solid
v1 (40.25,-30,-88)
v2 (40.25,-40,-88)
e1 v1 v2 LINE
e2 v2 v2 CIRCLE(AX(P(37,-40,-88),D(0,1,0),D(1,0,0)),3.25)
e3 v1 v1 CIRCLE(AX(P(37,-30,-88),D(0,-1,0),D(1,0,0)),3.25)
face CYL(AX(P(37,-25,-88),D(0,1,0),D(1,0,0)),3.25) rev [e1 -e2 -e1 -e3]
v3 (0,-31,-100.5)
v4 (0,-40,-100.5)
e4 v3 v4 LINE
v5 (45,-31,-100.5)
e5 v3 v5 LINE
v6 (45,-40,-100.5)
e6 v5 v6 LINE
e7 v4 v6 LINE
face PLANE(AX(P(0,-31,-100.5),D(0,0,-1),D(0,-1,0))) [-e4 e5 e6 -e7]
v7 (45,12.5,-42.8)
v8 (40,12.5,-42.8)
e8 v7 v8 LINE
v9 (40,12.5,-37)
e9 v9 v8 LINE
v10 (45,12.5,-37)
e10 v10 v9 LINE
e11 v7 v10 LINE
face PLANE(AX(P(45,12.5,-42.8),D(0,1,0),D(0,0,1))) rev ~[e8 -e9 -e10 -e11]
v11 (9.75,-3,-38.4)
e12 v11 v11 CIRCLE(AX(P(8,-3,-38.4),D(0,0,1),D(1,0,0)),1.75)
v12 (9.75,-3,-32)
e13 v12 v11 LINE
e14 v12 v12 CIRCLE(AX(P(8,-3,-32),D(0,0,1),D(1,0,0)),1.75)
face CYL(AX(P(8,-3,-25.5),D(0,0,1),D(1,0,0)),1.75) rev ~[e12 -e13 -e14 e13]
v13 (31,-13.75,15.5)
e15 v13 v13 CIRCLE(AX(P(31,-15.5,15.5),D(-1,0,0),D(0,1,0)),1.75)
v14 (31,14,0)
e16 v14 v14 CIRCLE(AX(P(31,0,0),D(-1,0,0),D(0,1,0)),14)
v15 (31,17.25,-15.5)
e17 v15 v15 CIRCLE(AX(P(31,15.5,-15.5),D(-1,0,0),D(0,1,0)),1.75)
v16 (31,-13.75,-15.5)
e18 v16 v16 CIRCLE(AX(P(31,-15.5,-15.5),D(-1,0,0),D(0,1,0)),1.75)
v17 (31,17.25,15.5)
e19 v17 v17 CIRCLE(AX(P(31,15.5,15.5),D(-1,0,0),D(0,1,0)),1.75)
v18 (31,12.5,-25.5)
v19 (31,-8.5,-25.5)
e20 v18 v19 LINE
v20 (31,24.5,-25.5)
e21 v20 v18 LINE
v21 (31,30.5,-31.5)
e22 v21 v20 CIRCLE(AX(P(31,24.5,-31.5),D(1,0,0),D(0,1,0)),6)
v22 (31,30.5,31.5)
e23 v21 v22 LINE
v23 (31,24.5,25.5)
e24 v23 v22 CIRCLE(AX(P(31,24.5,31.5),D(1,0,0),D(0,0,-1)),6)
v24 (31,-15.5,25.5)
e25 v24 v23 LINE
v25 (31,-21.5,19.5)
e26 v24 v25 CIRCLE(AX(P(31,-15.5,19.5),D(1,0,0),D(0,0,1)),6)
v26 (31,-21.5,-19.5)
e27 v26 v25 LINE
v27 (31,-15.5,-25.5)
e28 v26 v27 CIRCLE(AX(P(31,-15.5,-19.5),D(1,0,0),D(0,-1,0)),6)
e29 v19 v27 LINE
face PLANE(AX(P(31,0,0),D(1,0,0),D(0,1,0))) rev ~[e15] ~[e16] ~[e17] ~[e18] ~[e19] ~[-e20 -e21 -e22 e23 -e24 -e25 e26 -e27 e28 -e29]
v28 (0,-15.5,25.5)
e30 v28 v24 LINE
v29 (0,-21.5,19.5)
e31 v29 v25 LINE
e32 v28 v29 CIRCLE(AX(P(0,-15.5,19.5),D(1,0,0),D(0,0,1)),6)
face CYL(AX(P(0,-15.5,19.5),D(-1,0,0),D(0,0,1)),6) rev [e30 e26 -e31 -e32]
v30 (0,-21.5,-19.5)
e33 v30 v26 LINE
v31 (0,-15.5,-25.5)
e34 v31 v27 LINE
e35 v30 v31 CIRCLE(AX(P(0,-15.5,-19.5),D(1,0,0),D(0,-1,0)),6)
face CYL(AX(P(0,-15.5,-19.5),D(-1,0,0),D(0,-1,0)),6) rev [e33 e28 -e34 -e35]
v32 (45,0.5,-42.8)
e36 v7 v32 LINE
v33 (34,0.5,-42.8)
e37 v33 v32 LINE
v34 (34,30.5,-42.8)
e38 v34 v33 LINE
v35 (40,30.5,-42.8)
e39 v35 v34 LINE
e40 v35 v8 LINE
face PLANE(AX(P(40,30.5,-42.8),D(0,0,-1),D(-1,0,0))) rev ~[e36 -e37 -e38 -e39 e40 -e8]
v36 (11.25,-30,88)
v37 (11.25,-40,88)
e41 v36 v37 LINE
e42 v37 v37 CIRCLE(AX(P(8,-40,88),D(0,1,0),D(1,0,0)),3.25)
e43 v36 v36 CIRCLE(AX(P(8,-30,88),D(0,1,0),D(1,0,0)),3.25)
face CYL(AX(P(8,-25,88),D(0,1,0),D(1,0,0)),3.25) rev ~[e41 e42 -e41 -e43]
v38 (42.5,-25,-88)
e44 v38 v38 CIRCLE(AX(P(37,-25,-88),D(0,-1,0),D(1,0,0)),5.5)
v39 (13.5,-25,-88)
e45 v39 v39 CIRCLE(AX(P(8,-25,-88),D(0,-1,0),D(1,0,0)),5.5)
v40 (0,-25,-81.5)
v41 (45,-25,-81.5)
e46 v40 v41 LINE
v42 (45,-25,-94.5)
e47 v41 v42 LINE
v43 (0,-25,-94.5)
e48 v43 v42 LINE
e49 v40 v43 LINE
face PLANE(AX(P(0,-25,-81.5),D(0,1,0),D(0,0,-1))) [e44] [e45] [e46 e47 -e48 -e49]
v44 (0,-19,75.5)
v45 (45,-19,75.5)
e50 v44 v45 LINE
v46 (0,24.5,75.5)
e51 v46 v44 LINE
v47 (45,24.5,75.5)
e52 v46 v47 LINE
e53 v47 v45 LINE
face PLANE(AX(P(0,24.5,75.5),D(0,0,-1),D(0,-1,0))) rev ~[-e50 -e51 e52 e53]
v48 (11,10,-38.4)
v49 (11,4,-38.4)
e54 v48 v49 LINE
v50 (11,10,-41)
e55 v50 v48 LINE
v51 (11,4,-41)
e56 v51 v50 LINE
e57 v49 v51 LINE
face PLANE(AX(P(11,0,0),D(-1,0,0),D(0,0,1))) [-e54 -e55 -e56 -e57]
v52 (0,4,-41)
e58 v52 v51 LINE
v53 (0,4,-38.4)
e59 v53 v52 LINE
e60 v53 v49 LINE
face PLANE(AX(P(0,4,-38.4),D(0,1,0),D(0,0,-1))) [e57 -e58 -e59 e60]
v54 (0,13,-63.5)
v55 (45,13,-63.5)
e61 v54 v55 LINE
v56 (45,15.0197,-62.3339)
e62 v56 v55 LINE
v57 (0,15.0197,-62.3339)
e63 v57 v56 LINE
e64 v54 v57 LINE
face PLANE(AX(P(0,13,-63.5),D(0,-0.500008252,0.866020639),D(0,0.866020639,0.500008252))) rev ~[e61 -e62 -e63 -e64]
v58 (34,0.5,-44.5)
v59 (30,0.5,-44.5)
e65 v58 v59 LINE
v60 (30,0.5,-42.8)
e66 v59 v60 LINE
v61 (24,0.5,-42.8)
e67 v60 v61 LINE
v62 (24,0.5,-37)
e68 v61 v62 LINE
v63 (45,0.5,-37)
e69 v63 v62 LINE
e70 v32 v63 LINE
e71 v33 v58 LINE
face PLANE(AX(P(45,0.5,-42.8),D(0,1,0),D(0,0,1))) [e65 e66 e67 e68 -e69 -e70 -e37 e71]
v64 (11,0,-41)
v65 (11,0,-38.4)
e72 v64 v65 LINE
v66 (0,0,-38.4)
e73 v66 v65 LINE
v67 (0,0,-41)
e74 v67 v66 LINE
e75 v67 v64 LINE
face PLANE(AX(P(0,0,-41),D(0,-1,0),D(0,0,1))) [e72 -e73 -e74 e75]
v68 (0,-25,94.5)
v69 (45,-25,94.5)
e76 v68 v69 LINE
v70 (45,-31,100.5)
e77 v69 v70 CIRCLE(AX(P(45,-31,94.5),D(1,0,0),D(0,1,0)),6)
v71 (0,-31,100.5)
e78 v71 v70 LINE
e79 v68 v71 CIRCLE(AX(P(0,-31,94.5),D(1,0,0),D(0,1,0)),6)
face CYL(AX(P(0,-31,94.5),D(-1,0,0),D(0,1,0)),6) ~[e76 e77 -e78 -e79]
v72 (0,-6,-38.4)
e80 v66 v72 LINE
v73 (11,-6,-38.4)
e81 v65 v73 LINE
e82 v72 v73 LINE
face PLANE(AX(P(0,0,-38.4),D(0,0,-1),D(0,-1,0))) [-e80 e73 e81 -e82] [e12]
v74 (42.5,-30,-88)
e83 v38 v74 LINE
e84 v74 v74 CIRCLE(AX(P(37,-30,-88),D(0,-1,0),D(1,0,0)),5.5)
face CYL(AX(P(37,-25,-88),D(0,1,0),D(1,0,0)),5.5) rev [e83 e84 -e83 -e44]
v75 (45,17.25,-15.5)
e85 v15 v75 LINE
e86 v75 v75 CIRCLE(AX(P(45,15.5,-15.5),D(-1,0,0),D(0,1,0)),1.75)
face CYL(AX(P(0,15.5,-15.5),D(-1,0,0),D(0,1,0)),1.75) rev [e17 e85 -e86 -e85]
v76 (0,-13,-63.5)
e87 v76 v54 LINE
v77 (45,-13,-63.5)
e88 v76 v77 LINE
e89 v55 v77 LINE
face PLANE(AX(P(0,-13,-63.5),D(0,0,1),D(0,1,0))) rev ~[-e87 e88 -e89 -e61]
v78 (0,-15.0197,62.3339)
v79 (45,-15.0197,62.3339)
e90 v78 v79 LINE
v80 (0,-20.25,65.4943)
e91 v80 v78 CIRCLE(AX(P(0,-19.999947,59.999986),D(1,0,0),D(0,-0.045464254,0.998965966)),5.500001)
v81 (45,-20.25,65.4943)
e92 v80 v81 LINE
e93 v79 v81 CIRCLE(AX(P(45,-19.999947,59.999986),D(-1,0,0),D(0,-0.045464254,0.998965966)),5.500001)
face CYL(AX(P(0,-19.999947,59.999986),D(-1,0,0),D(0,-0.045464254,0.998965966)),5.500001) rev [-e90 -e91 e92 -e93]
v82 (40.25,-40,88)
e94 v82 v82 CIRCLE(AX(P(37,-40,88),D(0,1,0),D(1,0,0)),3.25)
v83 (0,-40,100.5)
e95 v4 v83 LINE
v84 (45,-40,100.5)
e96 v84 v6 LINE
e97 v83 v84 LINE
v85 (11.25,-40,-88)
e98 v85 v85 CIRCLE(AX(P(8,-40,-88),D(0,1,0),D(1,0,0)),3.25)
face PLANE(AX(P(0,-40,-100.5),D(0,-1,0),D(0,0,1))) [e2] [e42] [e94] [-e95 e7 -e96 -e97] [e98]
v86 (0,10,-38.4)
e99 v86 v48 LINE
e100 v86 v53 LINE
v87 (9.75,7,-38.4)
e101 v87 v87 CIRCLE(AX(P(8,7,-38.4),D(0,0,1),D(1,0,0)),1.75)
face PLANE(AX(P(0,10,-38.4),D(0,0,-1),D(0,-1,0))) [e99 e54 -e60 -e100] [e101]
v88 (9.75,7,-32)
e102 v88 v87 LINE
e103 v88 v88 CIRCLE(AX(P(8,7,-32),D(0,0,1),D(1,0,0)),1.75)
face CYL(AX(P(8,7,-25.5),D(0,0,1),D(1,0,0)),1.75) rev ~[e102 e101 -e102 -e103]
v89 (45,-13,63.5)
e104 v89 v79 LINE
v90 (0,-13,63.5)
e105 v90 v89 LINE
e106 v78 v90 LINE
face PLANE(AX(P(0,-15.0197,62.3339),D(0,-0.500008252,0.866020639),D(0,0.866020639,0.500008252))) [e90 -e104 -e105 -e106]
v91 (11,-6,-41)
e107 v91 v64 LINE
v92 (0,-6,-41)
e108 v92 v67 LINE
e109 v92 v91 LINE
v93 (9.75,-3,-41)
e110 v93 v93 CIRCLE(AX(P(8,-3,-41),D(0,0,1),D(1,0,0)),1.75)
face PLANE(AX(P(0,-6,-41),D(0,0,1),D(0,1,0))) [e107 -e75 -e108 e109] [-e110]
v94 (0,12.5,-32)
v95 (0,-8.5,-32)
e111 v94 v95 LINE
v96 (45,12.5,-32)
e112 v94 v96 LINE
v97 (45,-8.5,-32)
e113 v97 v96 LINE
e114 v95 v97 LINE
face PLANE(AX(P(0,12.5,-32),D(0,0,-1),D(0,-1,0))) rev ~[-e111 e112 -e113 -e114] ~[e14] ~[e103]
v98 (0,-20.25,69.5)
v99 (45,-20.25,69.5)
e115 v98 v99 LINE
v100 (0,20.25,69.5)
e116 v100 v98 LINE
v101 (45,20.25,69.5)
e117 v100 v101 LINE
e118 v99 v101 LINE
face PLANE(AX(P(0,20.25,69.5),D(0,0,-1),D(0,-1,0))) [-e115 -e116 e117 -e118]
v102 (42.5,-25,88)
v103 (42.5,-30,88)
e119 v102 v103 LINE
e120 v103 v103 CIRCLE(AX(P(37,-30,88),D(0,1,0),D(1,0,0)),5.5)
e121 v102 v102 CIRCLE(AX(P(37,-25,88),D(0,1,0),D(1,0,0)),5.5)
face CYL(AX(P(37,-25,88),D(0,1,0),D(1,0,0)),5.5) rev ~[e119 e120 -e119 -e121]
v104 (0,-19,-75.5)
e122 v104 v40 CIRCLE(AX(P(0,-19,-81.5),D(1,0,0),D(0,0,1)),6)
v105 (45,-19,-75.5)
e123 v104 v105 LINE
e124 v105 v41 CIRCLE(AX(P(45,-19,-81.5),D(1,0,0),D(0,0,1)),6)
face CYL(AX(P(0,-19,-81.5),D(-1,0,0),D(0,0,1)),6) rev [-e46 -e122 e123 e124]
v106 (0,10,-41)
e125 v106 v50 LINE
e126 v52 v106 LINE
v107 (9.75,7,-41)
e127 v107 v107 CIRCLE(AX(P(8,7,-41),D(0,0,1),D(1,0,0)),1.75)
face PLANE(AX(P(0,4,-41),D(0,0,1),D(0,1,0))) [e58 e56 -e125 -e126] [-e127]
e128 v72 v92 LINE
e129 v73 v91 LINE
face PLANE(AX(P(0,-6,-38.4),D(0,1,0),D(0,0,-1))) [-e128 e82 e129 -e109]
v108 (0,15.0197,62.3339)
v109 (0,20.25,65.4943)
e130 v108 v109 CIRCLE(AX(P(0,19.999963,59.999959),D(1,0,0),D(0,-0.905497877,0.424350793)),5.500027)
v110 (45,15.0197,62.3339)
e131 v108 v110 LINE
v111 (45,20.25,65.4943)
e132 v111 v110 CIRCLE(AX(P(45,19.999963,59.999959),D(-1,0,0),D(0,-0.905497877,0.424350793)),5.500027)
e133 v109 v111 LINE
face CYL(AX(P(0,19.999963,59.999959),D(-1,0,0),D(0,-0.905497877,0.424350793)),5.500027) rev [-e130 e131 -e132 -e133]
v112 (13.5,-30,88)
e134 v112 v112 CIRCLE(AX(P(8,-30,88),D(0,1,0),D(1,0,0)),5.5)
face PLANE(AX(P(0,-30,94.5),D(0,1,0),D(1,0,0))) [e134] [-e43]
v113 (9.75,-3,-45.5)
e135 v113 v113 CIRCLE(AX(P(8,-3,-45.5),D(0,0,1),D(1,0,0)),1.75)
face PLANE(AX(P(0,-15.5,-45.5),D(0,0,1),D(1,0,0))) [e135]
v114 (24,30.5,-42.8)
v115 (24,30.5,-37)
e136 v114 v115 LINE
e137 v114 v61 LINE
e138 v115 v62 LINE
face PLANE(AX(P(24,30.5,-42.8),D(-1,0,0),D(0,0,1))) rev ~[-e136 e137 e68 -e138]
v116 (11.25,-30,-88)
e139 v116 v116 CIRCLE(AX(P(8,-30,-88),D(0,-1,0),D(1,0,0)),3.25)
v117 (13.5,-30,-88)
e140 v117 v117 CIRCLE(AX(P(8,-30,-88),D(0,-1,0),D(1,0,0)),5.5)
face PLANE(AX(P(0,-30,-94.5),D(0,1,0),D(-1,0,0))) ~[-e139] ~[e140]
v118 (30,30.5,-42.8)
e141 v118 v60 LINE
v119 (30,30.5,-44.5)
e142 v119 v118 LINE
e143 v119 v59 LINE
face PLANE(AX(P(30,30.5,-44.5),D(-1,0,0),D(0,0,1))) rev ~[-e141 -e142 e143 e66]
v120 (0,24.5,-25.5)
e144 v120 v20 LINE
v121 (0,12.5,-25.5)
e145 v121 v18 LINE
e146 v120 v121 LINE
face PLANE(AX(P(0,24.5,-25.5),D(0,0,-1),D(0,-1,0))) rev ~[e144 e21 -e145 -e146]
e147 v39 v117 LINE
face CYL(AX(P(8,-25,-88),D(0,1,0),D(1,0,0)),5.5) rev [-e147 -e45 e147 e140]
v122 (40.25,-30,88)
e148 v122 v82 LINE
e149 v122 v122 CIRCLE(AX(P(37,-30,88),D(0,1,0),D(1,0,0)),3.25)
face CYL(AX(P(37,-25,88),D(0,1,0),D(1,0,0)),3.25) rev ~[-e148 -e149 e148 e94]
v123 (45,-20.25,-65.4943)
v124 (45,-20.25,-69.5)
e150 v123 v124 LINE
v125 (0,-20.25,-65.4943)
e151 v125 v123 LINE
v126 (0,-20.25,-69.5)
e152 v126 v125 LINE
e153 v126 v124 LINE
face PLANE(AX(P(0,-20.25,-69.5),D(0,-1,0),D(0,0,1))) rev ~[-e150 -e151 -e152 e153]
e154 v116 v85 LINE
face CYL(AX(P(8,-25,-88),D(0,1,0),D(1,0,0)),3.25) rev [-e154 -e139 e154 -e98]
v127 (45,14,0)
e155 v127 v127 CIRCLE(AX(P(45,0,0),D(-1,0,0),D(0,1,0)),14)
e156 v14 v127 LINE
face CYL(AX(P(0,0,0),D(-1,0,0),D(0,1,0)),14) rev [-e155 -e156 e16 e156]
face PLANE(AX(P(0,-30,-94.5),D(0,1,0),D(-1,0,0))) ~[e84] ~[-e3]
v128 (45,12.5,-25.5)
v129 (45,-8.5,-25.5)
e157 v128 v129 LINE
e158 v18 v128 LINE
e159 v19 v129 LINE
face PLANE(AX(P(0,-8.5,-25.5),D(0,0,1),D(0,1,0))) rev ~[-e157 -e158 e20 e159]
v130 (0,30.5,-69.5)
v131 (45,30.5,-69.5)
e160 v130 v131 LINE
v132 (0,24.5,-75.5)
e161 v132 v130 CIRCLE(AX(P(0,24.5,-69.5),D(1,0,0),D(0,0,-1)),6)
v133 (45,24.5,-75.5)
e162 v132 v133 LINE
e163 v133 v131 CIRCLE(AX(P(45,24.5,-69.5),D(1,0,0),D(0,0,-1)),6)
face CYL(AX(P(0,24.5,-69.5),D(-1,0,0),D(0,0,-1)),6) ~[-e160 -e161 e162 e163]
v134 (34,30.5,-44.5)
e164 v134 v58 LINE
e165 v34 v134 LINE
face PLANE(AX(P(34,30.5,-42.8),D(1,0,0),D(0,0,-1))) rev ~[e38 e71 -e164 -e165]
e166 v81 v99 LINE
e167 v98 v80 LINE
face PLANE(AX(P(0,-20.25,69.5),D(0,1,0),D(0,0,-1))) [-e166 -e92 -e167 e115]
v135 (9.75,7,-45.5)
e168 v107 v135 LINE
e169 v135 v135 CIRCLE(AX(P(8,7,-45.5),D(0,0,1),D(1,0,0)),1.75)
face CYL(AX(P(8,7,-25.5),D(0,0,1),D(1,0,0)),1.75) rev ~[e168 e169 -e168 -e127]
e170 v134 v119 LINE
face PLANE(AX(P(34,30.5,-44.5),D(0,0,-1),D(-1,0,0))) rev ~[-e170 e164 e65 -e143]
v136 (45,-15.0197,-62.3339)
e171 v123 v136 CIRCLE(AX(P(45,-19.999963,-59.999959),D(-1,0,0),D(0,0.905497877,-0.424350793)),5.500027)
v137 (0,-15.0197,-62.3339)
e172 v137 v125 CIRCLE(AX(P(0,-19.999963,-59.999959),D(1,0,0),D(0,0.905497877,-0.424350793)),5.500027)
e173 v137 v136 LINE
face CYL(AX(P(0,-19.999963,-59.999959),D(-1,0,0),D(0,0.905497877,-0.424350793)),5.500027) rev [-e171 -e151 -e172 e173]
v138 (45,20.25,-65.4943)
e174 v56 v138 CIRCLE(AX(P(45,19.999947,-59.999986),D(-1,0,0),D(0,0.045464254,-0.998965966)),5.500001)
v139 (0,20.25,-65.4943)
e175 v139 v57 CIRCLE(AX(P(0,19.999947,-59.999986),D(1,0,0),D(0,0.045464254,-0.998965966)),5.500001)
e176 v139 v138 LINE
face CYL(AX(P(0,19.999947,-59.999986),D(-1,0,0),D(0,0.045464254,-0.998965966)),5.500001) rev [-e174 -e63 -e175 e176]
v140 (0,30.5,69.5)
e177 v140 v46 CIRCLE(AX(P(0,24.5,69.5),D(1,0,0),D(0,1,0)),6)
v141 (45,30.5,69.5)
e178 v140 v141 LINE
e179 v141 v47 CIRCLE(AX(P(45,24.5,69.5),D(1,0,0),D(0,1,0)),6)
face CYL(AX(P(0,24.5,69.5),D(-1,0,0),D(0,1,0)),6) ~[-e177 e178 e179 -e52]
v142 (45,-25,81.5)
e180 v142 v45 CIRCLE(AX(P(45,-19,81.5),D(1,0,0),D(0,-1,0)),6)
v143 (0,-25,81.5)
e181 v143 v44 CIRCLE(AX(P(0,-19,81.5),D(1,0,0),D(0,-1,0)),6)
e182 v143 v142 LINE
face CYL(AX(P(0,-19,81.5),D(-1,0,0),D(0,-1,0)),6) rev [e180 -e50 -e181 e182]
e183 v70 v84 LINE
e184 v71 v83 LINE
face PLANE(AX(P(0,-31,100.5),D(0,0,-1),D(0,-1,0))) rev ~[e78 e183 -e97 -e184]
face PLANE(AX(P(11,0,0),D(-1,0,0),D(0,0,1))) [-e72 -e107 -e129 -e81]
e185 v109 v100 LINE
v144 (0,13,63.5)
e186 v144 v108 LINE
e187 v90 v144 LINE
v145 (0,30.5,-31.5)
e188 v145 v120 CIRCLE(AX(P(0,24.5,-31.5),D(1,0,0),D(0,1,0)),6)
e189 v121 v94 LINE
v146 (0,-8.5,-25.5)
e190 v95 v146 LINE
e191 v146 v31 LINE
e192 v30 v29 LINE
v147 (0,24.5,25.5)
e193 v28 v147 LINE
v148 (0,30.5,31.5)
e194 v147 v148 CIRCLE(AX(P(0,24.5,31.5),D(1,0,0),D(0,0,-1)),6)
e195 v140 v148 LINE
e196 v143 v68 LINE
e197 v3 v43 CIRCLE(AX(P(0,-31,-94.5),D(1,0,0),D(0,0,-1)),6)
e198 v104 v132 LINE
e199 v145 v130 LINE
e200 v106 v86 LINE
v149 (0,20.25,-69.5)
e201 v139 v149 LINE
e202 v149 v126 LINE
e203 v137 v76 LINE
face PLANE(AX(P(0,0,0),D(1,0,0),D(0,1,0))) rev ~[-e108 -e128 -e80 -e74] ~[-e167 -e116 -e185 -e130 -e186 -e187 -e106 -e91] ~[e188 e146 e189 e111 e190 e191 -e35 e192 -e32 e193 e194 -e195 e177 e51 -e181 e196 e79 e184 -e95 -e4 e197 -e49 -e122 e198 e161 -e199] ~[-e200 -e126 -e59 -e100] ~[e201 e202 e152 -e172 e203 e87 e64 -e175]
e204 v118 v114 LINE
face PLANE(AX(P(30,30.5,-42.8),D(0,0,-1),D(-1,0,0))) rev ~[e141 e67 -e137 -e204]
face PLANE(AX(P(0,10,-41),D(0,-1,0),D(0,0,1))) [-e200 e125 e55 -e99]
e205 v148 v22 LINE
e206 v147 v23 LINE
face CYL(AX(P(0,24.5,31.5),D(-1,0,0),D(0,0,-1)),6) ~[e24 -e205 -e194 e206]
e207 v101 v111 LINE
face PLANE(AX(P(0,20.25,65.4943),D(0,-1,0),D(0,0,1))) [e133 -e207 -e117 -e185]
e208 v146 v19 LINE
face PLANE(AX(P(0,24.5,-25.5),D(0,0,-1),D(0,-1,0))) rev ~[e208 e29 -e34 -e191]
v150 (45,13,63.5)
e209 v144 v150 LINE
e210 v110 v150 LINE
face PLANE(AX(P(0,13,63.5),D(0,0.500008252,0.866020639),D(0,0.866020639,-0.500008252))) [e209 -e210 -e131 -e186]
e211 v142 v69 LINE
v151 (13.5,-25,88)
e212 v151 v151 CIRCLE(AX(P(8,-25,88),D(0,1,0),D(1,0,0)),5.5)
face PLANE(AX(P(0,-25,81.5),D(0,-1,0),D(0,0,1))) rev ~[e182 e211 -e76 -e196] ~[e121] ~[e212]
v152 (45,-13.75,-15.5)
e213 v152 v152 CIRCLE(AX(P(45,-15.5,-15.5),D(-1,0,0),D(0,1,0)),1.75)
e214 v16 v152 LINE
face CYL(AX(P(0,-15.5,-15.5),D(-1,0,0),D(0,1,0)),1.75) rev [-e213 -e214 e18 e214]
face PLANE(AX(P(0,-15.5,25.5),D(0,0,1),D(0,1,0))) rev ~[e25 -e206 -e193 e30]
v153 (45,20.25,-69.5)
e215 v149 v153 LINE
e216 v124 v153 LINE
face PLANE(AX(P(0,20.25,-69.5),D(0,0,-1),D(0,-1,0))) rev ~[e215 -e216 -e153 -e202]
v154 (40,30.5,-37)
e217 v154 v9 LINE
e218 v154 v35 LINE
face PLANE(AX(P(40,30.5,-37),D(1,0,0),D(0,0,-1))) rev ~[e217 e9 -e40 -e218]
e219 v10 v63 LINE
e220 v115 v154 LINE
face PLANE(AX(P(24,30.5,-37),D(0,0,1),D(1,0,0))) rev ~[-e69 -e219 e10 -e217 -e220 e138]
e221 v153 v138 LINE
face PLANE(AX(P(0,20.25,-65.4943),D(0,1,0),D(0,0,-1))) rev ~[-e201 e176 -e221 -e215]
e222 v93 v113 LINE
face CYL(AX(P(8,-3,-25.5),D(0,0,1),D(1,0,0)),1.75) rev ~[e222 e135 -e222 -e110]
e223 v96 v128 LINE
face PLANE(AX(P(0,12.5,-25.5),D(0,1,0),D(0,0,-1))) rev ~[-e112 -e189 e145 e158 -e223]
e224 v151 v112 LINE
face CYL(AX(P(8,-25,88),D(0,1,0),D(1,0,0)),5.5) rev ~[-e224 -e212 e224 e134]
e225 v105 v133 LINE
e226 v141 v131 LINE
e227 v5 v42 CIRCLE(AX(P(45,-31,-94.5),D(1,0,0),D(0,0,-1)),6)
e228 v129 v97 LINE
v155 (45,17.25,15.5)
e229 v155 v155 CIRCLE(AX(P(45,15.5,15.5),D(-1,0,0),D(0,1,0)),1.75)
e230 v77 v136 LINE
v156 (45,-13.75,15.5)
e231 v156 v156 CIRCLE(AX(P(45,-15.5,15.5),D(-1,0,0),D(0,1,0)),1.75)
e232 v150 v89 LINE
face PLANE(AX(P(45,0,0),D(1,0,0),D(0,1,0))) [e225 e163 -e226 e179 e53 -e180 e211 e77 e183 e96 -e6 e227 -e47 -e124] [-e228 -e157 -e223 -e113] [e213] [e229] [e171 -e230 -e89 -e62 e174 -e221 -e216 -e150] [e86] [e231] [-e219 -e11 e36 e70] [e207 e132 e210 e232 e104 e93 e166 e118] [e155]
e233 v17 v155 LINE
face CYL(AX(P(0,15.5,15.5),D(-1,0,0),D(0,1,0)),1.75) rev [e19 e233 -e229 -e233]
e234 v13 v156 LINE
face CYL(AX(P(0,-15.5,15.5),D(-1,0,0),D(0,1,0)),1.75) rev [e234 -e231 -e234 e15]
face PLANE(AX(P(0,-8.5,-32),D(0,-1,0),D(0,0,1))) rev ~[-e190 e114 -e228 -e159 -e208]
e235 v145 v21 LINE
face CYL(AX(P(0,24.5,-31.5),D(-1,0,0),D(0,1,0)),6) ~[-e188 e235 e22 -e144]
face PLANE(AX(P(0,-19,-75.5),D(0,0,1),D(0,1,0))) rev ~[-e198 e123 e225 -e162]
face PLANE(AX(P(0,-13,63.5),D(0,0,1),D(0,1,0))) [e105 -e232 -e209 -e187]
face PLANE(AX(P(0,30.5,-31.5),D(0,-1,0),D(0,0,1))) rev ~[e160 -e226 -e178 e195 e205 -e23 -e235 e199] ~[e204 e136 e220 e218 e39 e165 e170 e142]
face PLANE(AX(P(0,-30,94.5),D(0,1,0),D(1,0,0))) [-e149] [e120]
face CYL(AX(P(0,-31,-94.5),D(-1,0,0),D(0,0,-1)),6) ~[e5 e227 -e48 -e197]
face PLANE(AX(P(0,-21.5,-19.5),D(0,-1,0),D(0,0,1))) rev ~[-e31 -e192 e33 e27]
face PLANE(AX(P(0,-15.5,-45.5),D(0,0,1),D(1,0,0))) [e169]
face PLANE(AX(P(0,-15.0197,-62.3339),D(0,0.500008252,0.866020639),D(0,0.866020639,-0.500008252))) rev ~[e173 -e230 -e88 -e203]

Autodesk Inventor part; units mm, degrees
ref_plane "YZ Plane" through (0, 0, 0) normal (1, 0, 0) x (0, 1, 0)
ref_plane "XZ Plane" through (0, 0, 0) normal (0, 1, 0) x (-1, 0, 0)
ref_plane "XY Plane" through (0, 0, 0) normal (0, 0, 1) x (1, 0, 0)
sketch "Szkic1" plane through (0, 0, 0) normal (1, 0, 0) x (0, 1, 0)
  circle A0 centre (0, 0) radius 14
  arc A1 (15.7574, 63.5) -> (15.0197, 62.3339) centre (20, 60) ccw construction
  arc A2 (-20.25, 65.4943) -> (-15.0197, 62.3339) centre (-20, 60) ccw
  line L0 (20.25, 69.5) -> (-20.25, 69.5)
  line L1 (-20.25, 69.5) -> (-20.25, 65.4943)
  line L2 (-20.25, 63.5) -> (-15.7574, 63.5) construction
  line L3 (20.25, 63.5) -> (20.25, 65.4943) construction
  line L4 (15.7574, 63.5) -> (20.25, 63.5) construction
  line L5 (20.25, 65.4943) -> (20.25, 69.5)
  line L6 (-20.25, 65.4943) -> (-20.25, 63.5) construction
  line L7 (-15.7574, 63.5) -> (-13, 63.5) construction
  arc A3 (20.25, 65.4943) -> (15.7574, 63.5) centre (20, 60) ccw construction
  arc A4 (-15.7574, 63.5) -> (-20.25, 65.4943) centre (-20, 60) ccw construction
  line L8 (-15.0197, 62.3339) -> (-13, 63.5)
  line L9 (13, 63.5) -> (15.0197, 62.3339)
  arc A5 (15.0197, 62.3339) -> (20.25, 65.4943) centre (20, 60) ccw
  line L10 (13, 63.5) -> (15.7574, 63.5) construction
  arc A6 (-15.0197, 62.3339) -> (-15.7574, 63.5) centre (-20, 60) ccw construction
  line L11 (-13, 63.5) -> (13, 63.5)
  line L12 (14, 0) -> (-14, 0) construction
  arc A7 (15.0197, -62.3339) -> (15.7574, -63.5) centre (20, -60) ccw construction
  arc A8 (-15.0197, -62.3339) -> (-20.25, -65.4943) centre (-20, -60) ccw
  line L13 (20.25, -69.5) -> (-20.25, -69.5)
  line L14 (-20.25, -69.5) -> (-20.25, -65.4943)
  line L15 (-20.25, -63.5) -> (-15.7574, -63.5) construction
  line L16 (20.25, -63.5) -> (20.25, -65.4943) construction
  line L17 (15.7574, -63.5) -> (20.25, -63.5) construction
  line L18 (20.25, -65.4943) -> (20.25, -69.5)
  line L19 (-20.25, -65.4943) -> (-20.25, -63.5) construction
  line L20 (-15.7574, -63.5) -> (-13, -63.5) construction
  arc A9 (15.7574, -63.5) -> (20.25, -65.4943) centre (20, -60) ccw construction
  arc A10 (-20.25, -65.4943) -> (-15.7574, -63.5) centre (-20, -60) ccw construction
  line L21 (-15.0197, -62.3339) -> (-13, -63.5)
  line L22 (13, -63.5) -> (15.0197, -62.3339)
  arc A11 (20.25, -65.4943) -> (15.0197, -62.3339) centre (20, -60) ccw
  line L23 (13, -63.5) -> (15.7574, -63.5) construction
  arc A12 (-15.7574, -63.5) -> (-15.0197, -62.3339) centre (-20, -60) ccw construction
  line L24 (-13, -63.5) -> (13, -63.5)
  line L25 (24.5, 75.5) -> (-19, 75.5)
  line L26 (-40, 75.5) -> (-40, -75.5)
  line L27 (-19, -75.5) -> (24.5, -75.5)
  line L28 (30.5, -69.5) -> (30.5, -31.5)
  arc A13 (30.5, 69.5) -> (24.5, 75.5) centre (24.5, 69.5) ccw
  arc A14 (24.5, -75.5) -> (30.5, -69.5) centre (24.5, -69.5) ccw
  line L29 (-40, 75.5) -> (-25, 75.5) construction
  line L30 (-25, 81.5) -> (-25, 94.5)
  line L31 (-31, 100.5) -> (-40, 100.5)
  line L32 (-40, 100.5) -> (-40, 75.5)
  arc A15 (-25, 94.5) -> (-31, 100.5) centre (-31, 94.5) ccw
  arc A16 (-25, 81.5) -> (-19, 75.5) centre (-19, 81.5) ccw
  line L33 (-40, -75.5) -> (-25, -75.5) construction
  line L34 (-25, -81.5) -> (-25, -94.5)
  line L35 (-31, -100.5) -> (-40, -100.5)
  line L36 (-40, -100.5) -> (-40, -75.5)
  arc A17 (-31, -100.5) -> (-25, -94.5) centre (-31, -94.5) ccw
  arc A18 (-19, -75.5) -> (-25, -81.5) centre (-19, -81.5) ccw
  circle A19 centre (15.5, 15.5) radius 1.75
  circle A20 centre (15.5, -15.5) radius 1.75
  circle A21 centre (-15.5, 15.5) radius 1.75
  circle A22 centre (-15.5, -15.5) radius 1.75
  line L37 (15.5, -15.5) -> (-15.5, 15.5) construction
  line L38 (15.5, 15.5) -> (-15.5, -15.5) construction
  circle A23 centre (15.5, 15.5) radius 3.5
  circle A24 centre (15.5, -15.5) radius 3.5
  circle A25 centre (-15.5, -15.5) radius 3.5
  circle A26 centre (-15.5, 15.5) radius 3.5
  line L39 (24.5, -25.5) -> (-15.5, -25.5)
  line L40 (-21.5, -19.5) -> (-21.5, 19.5)
  line L41 (-15.5, 25.5) -> (24.5, 25.5)
  line L42 (30.5, 25.5) -> (30.5, -25.5) construction
  arc A27 (30.5, -31.5) -> (24.5, -25.5) centre (24.5, -31.5) ccw
  arc A28 (-21.5, -19.5) -> (-15.5, -25.5) centre (-15.5, -19.5) ccw
  arc A29 (-15.5, 25.5) -> (-21.5, 19.5) centre (-15.5, 19.5) ccw
  line L43 (30.5, 31.5) -> (30.5, 69.5)
  arc A30 (24.5, 25.5) -> (30.5, 31.5) centre (24.5, 31.5) ccw
  line L44 (30.5, -31.5) -> (30.5, 31.5)
  point P0 (-25, 100.5)
  point P1 (-25, -100.5)
  dimension "d0" = 28
  dimension "d1" = 11
  dimension "d2" = 40
  dimension "d3" = 20
  dimension "d4" = 60
  dimension "d6" = 6
  dimension "d8" = 3.5
  dimension "d9" = 150
  dimension "d10" = 150
  dimension "d11" = 26
  dimension "d12" = 13
  dimension "d13" = 6
  dimension "d14" = 6
  dimension "d15" = 10.5
  dimension "d16" = 20
  dimension "d17" = 6
  dimension "d18" = 15
  dimension "d19" = 25
  dimension "d20" = 6
  dimension "d21" = 15
  dimension "d22" = 25
  dimension "d23" = 6
  dimension "d24" = 3.5
  dimension "d25" = 31
  dimension "d26" = 31
  dimension "d27" = 7
  dimension "d34" = 10
  dimension "d35" = 10
  dimension "d36" = 6
  dimension "d37" = 6
  dimension "d38" = 6
  dimension "d50" = 0.25
  dimension "d51" = 0.25
extrude "Wyciągnięcie proste1" add sketch "Szkic1" along normal blind 45 contours A0 | L1 L0 L5 A5 L9 L11 L8 A2 | L21 L24 L22 A11 L18 L13 L14 A8 | A13 L43 A30 L41 A29 L40 A28 L39 A27 L28 A14 L27 A18 L34 A17 L35 L36 L26 L32 L31 A15 L30 A16 L25 | L44 A27 L39 A28 L40 A29 L41 A30 | A19 | A20 | A21 | A22 | A23 | A24 | A25 | A26
extrude "Wyciągnięcie proste2" cut sketch "Szkic1" along normal blind 31 contours A0 | L44 A27 L39 A28 L40 A29 L41 A30 | A19 | A20 | A21 | A22 | A23 | A24 | A25 | A26
extrude "Wyciągnięcie proste12" cut sketch "Szkic1" along normal through all contours L1 L0 L5 A5 L9 L11 L8 A2 | L21 L24 L22 A11 L18 L13 L14 A8
extrude "Wyciągnięcie proste4" cut sketch "Szkic1" along normal through all contours A0 | A19 | A20 | A21 | A22
sketch "Szkic2" plane through (0, -25, 94.5) normal (0, 1, 0) x (1, 0, 0)
  circle A0 centre (37, 6.5) radius 5.5
  circle A1 centre (8, 6.5) radius 5.5
  circle A2 centre (37, 6.5) radius 3.25
  circle A3 centre (8, 6.5) radius 3.25
  line L0 (45, 13) -> (45, 0) projected
  line L1 (0, -6) -> (45, -6) projected
  line L2 (0, 13) -> (0, 0) projected
  point P0 (0, 94.5)
  dimension "d41" = 6.5
  dimension "d42" = 11
  dimension "d43" = 8
  dimension "d44" = 12.5
  dimension "d45" = 8
extrude "Wyciągnięcie proste5" cut sketch "Szkic2" against normal through all contours A2 | A3
extrude "Wyciągnięcie proste6" cut sketch "Szkic2" against normal blind 5
mirror "Odbij1" about plane through (0, 0, 0) normal (0, 0, 1) of "Wyciągnięcie proste6", "Wyciągnięcie proste5"
sketch "Szkic5" plane through (0, -15.5, -25.5) normal (0, 0, 1) x (1, 0, 0)
  circle A0 centre (8, 22.5) radius 1.75
  circle A1 centre (8, 12.5) radius 1.75
  line L0 (0, 0) -> (0, 40) projected
  line L1 (31, 46) -> (0, 46) projected
  line L2 (31, 46) -> (0, 46) projected
  line L3 (0, 46) -> (45, 46) projected
  line L4 (0, 46) -> (45, 46) projected
  point P0 (0, 15.5)
  dimension "d63" = 3.5
  dimension "d64" = 3.5
  dimension "d65" = 8
  dimension "d66" = 10
  dimension "d67" = 23.5
extrude "Wyciągnięcie proste8" cut sketch "Szkic5" against normal blind 20
sketch "Szkic3" plane through (0, 0, 0) normal (-1, 0, 0) x (0, 0, 1)
  line L0 (-25.5, -15.5) -> (-25.5, 24.5) projected
  line L1 (-25.5, 12.5) -> (-32, 12.5)
  line L2 (-32, 12.5) -> (-32, -8.5)
  line L3 (-32, -8.5) -> (-25.5, -8.5)
  line L4 (-25.5, -8.5) -> (-25.5, 12.5)
  line L5 (-69.5, 30.5) -> (-31.5, 30.5) projected
  line L6 (-41, 10) -> (-38.4, 10)
  line L7 (-38.4, 10) -> (-38.4, 4)
  line L8 (-38.4, 4) -> (-41, 4)
  line L9 (-41, 4) -> (-41, 10)
  line L10 (-41, 0) -> (-38.4, 0)
  line L11 (-38.4, 0) -> (-38.4, -6)
  line L12 (-38.4, -6) -> (-41, -6)
  line L13 (-41, -6) -> (-41, 0)
  point P0 (0, 0)
  dimension "d52" = 21
  dimension "d53" = 6.5
  dimension "d54" = 18
  dimension "d55" = 2.6
  dimension "d56" = 6
  dimension "d57" = 6
  dimension "d58" = 2.5
  dimension "d59" = 2.5
  dimension "d60" = 9
extrude "Wyciągnięcie proste7" cut sketch "Szkic3" against normal through all contours L3 L2 L1 L0
extrude "Wyciągnięcie proste9" cut sketch "Szkic3" against normal blind 11 contours L6 L7 L8 L9 | L10 L11 L12 L13
sketch "Szkic6" plane through (0, 30.5, 69.5) normal (0, 1, 0) x (1, 0, 0)
  line L0 (24, 106.5) -> (40, 106.5)
  line L1 (40, 106.5) -> (40, 112.3)
  line L2 (40, 112.3) -> (34, 112.3)
  line L3 (24, 112.3) -> (24, 106.5)
  line L4 (34, 112.3) -> (34, 114)
  line L5 (34, 114) -> (30, 114)
  line L6 (30, 114) -> (30, 112.3)
  line L7 (0, 101.5) -> (45, 101.5) projected
  line L8 (0, 101.5) -> (45, 101.5) projected
  line L9 (6.25, 101.5) -> (9.75, 101.5) projected
  line L10 (6.25, 101.5) -> (9.75, 101.5) projected
  line L11 (45, 139) -> (45, 0) projected
  line L12 (30, 112.3) -> (24, 112.3)
  line L13 (34, 112.3) -> (30, 112.3) construction
  point P0 (0, 69.5)
  dimension "d77" = 5.8
  dimension "d79" = 4
  dimension "d80" = 1.7
  dimension "d81" = 6
  dimension "d82" = 16
  dimension "d83" = 5
  dimension "d84" = 5
extrude "Wyciągnięcie proste10" cut sketch "Szkic6" against normal blind 30
sketch "Szkic7" plane through (45, 0, 0) normal (1, 0, 0) x (0, 0, -1)
  line L0 (42.8, 30.5) -> (37, 30.5) projected
  line L1 (42.8, 30.5) -> (42.8, 0.5) projected
  line L2 (42.8, 0.5) -> (37, 0.5) projected
  line L3 (37, 30.5) -> (37, 0.5) projected
  line L4 (42.8, 0.5) -> (37, 0.5) projected
  line L5 (42.8, 30.5) -> (42.8, 0.5) projected
  line L6 (37, 0.5) -> (42.8, 0.5)
  line L7 (42.8, 0.5) -> (42.8, 12.5)
  line L8 (42.8, 12.5) -> (37, 12.5)
  line L9 (37, 12.5) -> (37, 0.5)
  point P0 (0, 0)
  point P1 (37, 12.5)
  dimension "d87" = 12
extrude "Wyciągnięcie proste11" cut sketch "Szkic7" against normal up to next contours L1 L2 L3 L8
equation "\"d3\" = 0.5 * d2"
equation "\"d12\" = 0.5 * d11"
equation "\"d14\" = d13"
equation "\"d38\" = d37"
properties part number "XMotorMount" material "Tworzywo sztuczne ABS"
